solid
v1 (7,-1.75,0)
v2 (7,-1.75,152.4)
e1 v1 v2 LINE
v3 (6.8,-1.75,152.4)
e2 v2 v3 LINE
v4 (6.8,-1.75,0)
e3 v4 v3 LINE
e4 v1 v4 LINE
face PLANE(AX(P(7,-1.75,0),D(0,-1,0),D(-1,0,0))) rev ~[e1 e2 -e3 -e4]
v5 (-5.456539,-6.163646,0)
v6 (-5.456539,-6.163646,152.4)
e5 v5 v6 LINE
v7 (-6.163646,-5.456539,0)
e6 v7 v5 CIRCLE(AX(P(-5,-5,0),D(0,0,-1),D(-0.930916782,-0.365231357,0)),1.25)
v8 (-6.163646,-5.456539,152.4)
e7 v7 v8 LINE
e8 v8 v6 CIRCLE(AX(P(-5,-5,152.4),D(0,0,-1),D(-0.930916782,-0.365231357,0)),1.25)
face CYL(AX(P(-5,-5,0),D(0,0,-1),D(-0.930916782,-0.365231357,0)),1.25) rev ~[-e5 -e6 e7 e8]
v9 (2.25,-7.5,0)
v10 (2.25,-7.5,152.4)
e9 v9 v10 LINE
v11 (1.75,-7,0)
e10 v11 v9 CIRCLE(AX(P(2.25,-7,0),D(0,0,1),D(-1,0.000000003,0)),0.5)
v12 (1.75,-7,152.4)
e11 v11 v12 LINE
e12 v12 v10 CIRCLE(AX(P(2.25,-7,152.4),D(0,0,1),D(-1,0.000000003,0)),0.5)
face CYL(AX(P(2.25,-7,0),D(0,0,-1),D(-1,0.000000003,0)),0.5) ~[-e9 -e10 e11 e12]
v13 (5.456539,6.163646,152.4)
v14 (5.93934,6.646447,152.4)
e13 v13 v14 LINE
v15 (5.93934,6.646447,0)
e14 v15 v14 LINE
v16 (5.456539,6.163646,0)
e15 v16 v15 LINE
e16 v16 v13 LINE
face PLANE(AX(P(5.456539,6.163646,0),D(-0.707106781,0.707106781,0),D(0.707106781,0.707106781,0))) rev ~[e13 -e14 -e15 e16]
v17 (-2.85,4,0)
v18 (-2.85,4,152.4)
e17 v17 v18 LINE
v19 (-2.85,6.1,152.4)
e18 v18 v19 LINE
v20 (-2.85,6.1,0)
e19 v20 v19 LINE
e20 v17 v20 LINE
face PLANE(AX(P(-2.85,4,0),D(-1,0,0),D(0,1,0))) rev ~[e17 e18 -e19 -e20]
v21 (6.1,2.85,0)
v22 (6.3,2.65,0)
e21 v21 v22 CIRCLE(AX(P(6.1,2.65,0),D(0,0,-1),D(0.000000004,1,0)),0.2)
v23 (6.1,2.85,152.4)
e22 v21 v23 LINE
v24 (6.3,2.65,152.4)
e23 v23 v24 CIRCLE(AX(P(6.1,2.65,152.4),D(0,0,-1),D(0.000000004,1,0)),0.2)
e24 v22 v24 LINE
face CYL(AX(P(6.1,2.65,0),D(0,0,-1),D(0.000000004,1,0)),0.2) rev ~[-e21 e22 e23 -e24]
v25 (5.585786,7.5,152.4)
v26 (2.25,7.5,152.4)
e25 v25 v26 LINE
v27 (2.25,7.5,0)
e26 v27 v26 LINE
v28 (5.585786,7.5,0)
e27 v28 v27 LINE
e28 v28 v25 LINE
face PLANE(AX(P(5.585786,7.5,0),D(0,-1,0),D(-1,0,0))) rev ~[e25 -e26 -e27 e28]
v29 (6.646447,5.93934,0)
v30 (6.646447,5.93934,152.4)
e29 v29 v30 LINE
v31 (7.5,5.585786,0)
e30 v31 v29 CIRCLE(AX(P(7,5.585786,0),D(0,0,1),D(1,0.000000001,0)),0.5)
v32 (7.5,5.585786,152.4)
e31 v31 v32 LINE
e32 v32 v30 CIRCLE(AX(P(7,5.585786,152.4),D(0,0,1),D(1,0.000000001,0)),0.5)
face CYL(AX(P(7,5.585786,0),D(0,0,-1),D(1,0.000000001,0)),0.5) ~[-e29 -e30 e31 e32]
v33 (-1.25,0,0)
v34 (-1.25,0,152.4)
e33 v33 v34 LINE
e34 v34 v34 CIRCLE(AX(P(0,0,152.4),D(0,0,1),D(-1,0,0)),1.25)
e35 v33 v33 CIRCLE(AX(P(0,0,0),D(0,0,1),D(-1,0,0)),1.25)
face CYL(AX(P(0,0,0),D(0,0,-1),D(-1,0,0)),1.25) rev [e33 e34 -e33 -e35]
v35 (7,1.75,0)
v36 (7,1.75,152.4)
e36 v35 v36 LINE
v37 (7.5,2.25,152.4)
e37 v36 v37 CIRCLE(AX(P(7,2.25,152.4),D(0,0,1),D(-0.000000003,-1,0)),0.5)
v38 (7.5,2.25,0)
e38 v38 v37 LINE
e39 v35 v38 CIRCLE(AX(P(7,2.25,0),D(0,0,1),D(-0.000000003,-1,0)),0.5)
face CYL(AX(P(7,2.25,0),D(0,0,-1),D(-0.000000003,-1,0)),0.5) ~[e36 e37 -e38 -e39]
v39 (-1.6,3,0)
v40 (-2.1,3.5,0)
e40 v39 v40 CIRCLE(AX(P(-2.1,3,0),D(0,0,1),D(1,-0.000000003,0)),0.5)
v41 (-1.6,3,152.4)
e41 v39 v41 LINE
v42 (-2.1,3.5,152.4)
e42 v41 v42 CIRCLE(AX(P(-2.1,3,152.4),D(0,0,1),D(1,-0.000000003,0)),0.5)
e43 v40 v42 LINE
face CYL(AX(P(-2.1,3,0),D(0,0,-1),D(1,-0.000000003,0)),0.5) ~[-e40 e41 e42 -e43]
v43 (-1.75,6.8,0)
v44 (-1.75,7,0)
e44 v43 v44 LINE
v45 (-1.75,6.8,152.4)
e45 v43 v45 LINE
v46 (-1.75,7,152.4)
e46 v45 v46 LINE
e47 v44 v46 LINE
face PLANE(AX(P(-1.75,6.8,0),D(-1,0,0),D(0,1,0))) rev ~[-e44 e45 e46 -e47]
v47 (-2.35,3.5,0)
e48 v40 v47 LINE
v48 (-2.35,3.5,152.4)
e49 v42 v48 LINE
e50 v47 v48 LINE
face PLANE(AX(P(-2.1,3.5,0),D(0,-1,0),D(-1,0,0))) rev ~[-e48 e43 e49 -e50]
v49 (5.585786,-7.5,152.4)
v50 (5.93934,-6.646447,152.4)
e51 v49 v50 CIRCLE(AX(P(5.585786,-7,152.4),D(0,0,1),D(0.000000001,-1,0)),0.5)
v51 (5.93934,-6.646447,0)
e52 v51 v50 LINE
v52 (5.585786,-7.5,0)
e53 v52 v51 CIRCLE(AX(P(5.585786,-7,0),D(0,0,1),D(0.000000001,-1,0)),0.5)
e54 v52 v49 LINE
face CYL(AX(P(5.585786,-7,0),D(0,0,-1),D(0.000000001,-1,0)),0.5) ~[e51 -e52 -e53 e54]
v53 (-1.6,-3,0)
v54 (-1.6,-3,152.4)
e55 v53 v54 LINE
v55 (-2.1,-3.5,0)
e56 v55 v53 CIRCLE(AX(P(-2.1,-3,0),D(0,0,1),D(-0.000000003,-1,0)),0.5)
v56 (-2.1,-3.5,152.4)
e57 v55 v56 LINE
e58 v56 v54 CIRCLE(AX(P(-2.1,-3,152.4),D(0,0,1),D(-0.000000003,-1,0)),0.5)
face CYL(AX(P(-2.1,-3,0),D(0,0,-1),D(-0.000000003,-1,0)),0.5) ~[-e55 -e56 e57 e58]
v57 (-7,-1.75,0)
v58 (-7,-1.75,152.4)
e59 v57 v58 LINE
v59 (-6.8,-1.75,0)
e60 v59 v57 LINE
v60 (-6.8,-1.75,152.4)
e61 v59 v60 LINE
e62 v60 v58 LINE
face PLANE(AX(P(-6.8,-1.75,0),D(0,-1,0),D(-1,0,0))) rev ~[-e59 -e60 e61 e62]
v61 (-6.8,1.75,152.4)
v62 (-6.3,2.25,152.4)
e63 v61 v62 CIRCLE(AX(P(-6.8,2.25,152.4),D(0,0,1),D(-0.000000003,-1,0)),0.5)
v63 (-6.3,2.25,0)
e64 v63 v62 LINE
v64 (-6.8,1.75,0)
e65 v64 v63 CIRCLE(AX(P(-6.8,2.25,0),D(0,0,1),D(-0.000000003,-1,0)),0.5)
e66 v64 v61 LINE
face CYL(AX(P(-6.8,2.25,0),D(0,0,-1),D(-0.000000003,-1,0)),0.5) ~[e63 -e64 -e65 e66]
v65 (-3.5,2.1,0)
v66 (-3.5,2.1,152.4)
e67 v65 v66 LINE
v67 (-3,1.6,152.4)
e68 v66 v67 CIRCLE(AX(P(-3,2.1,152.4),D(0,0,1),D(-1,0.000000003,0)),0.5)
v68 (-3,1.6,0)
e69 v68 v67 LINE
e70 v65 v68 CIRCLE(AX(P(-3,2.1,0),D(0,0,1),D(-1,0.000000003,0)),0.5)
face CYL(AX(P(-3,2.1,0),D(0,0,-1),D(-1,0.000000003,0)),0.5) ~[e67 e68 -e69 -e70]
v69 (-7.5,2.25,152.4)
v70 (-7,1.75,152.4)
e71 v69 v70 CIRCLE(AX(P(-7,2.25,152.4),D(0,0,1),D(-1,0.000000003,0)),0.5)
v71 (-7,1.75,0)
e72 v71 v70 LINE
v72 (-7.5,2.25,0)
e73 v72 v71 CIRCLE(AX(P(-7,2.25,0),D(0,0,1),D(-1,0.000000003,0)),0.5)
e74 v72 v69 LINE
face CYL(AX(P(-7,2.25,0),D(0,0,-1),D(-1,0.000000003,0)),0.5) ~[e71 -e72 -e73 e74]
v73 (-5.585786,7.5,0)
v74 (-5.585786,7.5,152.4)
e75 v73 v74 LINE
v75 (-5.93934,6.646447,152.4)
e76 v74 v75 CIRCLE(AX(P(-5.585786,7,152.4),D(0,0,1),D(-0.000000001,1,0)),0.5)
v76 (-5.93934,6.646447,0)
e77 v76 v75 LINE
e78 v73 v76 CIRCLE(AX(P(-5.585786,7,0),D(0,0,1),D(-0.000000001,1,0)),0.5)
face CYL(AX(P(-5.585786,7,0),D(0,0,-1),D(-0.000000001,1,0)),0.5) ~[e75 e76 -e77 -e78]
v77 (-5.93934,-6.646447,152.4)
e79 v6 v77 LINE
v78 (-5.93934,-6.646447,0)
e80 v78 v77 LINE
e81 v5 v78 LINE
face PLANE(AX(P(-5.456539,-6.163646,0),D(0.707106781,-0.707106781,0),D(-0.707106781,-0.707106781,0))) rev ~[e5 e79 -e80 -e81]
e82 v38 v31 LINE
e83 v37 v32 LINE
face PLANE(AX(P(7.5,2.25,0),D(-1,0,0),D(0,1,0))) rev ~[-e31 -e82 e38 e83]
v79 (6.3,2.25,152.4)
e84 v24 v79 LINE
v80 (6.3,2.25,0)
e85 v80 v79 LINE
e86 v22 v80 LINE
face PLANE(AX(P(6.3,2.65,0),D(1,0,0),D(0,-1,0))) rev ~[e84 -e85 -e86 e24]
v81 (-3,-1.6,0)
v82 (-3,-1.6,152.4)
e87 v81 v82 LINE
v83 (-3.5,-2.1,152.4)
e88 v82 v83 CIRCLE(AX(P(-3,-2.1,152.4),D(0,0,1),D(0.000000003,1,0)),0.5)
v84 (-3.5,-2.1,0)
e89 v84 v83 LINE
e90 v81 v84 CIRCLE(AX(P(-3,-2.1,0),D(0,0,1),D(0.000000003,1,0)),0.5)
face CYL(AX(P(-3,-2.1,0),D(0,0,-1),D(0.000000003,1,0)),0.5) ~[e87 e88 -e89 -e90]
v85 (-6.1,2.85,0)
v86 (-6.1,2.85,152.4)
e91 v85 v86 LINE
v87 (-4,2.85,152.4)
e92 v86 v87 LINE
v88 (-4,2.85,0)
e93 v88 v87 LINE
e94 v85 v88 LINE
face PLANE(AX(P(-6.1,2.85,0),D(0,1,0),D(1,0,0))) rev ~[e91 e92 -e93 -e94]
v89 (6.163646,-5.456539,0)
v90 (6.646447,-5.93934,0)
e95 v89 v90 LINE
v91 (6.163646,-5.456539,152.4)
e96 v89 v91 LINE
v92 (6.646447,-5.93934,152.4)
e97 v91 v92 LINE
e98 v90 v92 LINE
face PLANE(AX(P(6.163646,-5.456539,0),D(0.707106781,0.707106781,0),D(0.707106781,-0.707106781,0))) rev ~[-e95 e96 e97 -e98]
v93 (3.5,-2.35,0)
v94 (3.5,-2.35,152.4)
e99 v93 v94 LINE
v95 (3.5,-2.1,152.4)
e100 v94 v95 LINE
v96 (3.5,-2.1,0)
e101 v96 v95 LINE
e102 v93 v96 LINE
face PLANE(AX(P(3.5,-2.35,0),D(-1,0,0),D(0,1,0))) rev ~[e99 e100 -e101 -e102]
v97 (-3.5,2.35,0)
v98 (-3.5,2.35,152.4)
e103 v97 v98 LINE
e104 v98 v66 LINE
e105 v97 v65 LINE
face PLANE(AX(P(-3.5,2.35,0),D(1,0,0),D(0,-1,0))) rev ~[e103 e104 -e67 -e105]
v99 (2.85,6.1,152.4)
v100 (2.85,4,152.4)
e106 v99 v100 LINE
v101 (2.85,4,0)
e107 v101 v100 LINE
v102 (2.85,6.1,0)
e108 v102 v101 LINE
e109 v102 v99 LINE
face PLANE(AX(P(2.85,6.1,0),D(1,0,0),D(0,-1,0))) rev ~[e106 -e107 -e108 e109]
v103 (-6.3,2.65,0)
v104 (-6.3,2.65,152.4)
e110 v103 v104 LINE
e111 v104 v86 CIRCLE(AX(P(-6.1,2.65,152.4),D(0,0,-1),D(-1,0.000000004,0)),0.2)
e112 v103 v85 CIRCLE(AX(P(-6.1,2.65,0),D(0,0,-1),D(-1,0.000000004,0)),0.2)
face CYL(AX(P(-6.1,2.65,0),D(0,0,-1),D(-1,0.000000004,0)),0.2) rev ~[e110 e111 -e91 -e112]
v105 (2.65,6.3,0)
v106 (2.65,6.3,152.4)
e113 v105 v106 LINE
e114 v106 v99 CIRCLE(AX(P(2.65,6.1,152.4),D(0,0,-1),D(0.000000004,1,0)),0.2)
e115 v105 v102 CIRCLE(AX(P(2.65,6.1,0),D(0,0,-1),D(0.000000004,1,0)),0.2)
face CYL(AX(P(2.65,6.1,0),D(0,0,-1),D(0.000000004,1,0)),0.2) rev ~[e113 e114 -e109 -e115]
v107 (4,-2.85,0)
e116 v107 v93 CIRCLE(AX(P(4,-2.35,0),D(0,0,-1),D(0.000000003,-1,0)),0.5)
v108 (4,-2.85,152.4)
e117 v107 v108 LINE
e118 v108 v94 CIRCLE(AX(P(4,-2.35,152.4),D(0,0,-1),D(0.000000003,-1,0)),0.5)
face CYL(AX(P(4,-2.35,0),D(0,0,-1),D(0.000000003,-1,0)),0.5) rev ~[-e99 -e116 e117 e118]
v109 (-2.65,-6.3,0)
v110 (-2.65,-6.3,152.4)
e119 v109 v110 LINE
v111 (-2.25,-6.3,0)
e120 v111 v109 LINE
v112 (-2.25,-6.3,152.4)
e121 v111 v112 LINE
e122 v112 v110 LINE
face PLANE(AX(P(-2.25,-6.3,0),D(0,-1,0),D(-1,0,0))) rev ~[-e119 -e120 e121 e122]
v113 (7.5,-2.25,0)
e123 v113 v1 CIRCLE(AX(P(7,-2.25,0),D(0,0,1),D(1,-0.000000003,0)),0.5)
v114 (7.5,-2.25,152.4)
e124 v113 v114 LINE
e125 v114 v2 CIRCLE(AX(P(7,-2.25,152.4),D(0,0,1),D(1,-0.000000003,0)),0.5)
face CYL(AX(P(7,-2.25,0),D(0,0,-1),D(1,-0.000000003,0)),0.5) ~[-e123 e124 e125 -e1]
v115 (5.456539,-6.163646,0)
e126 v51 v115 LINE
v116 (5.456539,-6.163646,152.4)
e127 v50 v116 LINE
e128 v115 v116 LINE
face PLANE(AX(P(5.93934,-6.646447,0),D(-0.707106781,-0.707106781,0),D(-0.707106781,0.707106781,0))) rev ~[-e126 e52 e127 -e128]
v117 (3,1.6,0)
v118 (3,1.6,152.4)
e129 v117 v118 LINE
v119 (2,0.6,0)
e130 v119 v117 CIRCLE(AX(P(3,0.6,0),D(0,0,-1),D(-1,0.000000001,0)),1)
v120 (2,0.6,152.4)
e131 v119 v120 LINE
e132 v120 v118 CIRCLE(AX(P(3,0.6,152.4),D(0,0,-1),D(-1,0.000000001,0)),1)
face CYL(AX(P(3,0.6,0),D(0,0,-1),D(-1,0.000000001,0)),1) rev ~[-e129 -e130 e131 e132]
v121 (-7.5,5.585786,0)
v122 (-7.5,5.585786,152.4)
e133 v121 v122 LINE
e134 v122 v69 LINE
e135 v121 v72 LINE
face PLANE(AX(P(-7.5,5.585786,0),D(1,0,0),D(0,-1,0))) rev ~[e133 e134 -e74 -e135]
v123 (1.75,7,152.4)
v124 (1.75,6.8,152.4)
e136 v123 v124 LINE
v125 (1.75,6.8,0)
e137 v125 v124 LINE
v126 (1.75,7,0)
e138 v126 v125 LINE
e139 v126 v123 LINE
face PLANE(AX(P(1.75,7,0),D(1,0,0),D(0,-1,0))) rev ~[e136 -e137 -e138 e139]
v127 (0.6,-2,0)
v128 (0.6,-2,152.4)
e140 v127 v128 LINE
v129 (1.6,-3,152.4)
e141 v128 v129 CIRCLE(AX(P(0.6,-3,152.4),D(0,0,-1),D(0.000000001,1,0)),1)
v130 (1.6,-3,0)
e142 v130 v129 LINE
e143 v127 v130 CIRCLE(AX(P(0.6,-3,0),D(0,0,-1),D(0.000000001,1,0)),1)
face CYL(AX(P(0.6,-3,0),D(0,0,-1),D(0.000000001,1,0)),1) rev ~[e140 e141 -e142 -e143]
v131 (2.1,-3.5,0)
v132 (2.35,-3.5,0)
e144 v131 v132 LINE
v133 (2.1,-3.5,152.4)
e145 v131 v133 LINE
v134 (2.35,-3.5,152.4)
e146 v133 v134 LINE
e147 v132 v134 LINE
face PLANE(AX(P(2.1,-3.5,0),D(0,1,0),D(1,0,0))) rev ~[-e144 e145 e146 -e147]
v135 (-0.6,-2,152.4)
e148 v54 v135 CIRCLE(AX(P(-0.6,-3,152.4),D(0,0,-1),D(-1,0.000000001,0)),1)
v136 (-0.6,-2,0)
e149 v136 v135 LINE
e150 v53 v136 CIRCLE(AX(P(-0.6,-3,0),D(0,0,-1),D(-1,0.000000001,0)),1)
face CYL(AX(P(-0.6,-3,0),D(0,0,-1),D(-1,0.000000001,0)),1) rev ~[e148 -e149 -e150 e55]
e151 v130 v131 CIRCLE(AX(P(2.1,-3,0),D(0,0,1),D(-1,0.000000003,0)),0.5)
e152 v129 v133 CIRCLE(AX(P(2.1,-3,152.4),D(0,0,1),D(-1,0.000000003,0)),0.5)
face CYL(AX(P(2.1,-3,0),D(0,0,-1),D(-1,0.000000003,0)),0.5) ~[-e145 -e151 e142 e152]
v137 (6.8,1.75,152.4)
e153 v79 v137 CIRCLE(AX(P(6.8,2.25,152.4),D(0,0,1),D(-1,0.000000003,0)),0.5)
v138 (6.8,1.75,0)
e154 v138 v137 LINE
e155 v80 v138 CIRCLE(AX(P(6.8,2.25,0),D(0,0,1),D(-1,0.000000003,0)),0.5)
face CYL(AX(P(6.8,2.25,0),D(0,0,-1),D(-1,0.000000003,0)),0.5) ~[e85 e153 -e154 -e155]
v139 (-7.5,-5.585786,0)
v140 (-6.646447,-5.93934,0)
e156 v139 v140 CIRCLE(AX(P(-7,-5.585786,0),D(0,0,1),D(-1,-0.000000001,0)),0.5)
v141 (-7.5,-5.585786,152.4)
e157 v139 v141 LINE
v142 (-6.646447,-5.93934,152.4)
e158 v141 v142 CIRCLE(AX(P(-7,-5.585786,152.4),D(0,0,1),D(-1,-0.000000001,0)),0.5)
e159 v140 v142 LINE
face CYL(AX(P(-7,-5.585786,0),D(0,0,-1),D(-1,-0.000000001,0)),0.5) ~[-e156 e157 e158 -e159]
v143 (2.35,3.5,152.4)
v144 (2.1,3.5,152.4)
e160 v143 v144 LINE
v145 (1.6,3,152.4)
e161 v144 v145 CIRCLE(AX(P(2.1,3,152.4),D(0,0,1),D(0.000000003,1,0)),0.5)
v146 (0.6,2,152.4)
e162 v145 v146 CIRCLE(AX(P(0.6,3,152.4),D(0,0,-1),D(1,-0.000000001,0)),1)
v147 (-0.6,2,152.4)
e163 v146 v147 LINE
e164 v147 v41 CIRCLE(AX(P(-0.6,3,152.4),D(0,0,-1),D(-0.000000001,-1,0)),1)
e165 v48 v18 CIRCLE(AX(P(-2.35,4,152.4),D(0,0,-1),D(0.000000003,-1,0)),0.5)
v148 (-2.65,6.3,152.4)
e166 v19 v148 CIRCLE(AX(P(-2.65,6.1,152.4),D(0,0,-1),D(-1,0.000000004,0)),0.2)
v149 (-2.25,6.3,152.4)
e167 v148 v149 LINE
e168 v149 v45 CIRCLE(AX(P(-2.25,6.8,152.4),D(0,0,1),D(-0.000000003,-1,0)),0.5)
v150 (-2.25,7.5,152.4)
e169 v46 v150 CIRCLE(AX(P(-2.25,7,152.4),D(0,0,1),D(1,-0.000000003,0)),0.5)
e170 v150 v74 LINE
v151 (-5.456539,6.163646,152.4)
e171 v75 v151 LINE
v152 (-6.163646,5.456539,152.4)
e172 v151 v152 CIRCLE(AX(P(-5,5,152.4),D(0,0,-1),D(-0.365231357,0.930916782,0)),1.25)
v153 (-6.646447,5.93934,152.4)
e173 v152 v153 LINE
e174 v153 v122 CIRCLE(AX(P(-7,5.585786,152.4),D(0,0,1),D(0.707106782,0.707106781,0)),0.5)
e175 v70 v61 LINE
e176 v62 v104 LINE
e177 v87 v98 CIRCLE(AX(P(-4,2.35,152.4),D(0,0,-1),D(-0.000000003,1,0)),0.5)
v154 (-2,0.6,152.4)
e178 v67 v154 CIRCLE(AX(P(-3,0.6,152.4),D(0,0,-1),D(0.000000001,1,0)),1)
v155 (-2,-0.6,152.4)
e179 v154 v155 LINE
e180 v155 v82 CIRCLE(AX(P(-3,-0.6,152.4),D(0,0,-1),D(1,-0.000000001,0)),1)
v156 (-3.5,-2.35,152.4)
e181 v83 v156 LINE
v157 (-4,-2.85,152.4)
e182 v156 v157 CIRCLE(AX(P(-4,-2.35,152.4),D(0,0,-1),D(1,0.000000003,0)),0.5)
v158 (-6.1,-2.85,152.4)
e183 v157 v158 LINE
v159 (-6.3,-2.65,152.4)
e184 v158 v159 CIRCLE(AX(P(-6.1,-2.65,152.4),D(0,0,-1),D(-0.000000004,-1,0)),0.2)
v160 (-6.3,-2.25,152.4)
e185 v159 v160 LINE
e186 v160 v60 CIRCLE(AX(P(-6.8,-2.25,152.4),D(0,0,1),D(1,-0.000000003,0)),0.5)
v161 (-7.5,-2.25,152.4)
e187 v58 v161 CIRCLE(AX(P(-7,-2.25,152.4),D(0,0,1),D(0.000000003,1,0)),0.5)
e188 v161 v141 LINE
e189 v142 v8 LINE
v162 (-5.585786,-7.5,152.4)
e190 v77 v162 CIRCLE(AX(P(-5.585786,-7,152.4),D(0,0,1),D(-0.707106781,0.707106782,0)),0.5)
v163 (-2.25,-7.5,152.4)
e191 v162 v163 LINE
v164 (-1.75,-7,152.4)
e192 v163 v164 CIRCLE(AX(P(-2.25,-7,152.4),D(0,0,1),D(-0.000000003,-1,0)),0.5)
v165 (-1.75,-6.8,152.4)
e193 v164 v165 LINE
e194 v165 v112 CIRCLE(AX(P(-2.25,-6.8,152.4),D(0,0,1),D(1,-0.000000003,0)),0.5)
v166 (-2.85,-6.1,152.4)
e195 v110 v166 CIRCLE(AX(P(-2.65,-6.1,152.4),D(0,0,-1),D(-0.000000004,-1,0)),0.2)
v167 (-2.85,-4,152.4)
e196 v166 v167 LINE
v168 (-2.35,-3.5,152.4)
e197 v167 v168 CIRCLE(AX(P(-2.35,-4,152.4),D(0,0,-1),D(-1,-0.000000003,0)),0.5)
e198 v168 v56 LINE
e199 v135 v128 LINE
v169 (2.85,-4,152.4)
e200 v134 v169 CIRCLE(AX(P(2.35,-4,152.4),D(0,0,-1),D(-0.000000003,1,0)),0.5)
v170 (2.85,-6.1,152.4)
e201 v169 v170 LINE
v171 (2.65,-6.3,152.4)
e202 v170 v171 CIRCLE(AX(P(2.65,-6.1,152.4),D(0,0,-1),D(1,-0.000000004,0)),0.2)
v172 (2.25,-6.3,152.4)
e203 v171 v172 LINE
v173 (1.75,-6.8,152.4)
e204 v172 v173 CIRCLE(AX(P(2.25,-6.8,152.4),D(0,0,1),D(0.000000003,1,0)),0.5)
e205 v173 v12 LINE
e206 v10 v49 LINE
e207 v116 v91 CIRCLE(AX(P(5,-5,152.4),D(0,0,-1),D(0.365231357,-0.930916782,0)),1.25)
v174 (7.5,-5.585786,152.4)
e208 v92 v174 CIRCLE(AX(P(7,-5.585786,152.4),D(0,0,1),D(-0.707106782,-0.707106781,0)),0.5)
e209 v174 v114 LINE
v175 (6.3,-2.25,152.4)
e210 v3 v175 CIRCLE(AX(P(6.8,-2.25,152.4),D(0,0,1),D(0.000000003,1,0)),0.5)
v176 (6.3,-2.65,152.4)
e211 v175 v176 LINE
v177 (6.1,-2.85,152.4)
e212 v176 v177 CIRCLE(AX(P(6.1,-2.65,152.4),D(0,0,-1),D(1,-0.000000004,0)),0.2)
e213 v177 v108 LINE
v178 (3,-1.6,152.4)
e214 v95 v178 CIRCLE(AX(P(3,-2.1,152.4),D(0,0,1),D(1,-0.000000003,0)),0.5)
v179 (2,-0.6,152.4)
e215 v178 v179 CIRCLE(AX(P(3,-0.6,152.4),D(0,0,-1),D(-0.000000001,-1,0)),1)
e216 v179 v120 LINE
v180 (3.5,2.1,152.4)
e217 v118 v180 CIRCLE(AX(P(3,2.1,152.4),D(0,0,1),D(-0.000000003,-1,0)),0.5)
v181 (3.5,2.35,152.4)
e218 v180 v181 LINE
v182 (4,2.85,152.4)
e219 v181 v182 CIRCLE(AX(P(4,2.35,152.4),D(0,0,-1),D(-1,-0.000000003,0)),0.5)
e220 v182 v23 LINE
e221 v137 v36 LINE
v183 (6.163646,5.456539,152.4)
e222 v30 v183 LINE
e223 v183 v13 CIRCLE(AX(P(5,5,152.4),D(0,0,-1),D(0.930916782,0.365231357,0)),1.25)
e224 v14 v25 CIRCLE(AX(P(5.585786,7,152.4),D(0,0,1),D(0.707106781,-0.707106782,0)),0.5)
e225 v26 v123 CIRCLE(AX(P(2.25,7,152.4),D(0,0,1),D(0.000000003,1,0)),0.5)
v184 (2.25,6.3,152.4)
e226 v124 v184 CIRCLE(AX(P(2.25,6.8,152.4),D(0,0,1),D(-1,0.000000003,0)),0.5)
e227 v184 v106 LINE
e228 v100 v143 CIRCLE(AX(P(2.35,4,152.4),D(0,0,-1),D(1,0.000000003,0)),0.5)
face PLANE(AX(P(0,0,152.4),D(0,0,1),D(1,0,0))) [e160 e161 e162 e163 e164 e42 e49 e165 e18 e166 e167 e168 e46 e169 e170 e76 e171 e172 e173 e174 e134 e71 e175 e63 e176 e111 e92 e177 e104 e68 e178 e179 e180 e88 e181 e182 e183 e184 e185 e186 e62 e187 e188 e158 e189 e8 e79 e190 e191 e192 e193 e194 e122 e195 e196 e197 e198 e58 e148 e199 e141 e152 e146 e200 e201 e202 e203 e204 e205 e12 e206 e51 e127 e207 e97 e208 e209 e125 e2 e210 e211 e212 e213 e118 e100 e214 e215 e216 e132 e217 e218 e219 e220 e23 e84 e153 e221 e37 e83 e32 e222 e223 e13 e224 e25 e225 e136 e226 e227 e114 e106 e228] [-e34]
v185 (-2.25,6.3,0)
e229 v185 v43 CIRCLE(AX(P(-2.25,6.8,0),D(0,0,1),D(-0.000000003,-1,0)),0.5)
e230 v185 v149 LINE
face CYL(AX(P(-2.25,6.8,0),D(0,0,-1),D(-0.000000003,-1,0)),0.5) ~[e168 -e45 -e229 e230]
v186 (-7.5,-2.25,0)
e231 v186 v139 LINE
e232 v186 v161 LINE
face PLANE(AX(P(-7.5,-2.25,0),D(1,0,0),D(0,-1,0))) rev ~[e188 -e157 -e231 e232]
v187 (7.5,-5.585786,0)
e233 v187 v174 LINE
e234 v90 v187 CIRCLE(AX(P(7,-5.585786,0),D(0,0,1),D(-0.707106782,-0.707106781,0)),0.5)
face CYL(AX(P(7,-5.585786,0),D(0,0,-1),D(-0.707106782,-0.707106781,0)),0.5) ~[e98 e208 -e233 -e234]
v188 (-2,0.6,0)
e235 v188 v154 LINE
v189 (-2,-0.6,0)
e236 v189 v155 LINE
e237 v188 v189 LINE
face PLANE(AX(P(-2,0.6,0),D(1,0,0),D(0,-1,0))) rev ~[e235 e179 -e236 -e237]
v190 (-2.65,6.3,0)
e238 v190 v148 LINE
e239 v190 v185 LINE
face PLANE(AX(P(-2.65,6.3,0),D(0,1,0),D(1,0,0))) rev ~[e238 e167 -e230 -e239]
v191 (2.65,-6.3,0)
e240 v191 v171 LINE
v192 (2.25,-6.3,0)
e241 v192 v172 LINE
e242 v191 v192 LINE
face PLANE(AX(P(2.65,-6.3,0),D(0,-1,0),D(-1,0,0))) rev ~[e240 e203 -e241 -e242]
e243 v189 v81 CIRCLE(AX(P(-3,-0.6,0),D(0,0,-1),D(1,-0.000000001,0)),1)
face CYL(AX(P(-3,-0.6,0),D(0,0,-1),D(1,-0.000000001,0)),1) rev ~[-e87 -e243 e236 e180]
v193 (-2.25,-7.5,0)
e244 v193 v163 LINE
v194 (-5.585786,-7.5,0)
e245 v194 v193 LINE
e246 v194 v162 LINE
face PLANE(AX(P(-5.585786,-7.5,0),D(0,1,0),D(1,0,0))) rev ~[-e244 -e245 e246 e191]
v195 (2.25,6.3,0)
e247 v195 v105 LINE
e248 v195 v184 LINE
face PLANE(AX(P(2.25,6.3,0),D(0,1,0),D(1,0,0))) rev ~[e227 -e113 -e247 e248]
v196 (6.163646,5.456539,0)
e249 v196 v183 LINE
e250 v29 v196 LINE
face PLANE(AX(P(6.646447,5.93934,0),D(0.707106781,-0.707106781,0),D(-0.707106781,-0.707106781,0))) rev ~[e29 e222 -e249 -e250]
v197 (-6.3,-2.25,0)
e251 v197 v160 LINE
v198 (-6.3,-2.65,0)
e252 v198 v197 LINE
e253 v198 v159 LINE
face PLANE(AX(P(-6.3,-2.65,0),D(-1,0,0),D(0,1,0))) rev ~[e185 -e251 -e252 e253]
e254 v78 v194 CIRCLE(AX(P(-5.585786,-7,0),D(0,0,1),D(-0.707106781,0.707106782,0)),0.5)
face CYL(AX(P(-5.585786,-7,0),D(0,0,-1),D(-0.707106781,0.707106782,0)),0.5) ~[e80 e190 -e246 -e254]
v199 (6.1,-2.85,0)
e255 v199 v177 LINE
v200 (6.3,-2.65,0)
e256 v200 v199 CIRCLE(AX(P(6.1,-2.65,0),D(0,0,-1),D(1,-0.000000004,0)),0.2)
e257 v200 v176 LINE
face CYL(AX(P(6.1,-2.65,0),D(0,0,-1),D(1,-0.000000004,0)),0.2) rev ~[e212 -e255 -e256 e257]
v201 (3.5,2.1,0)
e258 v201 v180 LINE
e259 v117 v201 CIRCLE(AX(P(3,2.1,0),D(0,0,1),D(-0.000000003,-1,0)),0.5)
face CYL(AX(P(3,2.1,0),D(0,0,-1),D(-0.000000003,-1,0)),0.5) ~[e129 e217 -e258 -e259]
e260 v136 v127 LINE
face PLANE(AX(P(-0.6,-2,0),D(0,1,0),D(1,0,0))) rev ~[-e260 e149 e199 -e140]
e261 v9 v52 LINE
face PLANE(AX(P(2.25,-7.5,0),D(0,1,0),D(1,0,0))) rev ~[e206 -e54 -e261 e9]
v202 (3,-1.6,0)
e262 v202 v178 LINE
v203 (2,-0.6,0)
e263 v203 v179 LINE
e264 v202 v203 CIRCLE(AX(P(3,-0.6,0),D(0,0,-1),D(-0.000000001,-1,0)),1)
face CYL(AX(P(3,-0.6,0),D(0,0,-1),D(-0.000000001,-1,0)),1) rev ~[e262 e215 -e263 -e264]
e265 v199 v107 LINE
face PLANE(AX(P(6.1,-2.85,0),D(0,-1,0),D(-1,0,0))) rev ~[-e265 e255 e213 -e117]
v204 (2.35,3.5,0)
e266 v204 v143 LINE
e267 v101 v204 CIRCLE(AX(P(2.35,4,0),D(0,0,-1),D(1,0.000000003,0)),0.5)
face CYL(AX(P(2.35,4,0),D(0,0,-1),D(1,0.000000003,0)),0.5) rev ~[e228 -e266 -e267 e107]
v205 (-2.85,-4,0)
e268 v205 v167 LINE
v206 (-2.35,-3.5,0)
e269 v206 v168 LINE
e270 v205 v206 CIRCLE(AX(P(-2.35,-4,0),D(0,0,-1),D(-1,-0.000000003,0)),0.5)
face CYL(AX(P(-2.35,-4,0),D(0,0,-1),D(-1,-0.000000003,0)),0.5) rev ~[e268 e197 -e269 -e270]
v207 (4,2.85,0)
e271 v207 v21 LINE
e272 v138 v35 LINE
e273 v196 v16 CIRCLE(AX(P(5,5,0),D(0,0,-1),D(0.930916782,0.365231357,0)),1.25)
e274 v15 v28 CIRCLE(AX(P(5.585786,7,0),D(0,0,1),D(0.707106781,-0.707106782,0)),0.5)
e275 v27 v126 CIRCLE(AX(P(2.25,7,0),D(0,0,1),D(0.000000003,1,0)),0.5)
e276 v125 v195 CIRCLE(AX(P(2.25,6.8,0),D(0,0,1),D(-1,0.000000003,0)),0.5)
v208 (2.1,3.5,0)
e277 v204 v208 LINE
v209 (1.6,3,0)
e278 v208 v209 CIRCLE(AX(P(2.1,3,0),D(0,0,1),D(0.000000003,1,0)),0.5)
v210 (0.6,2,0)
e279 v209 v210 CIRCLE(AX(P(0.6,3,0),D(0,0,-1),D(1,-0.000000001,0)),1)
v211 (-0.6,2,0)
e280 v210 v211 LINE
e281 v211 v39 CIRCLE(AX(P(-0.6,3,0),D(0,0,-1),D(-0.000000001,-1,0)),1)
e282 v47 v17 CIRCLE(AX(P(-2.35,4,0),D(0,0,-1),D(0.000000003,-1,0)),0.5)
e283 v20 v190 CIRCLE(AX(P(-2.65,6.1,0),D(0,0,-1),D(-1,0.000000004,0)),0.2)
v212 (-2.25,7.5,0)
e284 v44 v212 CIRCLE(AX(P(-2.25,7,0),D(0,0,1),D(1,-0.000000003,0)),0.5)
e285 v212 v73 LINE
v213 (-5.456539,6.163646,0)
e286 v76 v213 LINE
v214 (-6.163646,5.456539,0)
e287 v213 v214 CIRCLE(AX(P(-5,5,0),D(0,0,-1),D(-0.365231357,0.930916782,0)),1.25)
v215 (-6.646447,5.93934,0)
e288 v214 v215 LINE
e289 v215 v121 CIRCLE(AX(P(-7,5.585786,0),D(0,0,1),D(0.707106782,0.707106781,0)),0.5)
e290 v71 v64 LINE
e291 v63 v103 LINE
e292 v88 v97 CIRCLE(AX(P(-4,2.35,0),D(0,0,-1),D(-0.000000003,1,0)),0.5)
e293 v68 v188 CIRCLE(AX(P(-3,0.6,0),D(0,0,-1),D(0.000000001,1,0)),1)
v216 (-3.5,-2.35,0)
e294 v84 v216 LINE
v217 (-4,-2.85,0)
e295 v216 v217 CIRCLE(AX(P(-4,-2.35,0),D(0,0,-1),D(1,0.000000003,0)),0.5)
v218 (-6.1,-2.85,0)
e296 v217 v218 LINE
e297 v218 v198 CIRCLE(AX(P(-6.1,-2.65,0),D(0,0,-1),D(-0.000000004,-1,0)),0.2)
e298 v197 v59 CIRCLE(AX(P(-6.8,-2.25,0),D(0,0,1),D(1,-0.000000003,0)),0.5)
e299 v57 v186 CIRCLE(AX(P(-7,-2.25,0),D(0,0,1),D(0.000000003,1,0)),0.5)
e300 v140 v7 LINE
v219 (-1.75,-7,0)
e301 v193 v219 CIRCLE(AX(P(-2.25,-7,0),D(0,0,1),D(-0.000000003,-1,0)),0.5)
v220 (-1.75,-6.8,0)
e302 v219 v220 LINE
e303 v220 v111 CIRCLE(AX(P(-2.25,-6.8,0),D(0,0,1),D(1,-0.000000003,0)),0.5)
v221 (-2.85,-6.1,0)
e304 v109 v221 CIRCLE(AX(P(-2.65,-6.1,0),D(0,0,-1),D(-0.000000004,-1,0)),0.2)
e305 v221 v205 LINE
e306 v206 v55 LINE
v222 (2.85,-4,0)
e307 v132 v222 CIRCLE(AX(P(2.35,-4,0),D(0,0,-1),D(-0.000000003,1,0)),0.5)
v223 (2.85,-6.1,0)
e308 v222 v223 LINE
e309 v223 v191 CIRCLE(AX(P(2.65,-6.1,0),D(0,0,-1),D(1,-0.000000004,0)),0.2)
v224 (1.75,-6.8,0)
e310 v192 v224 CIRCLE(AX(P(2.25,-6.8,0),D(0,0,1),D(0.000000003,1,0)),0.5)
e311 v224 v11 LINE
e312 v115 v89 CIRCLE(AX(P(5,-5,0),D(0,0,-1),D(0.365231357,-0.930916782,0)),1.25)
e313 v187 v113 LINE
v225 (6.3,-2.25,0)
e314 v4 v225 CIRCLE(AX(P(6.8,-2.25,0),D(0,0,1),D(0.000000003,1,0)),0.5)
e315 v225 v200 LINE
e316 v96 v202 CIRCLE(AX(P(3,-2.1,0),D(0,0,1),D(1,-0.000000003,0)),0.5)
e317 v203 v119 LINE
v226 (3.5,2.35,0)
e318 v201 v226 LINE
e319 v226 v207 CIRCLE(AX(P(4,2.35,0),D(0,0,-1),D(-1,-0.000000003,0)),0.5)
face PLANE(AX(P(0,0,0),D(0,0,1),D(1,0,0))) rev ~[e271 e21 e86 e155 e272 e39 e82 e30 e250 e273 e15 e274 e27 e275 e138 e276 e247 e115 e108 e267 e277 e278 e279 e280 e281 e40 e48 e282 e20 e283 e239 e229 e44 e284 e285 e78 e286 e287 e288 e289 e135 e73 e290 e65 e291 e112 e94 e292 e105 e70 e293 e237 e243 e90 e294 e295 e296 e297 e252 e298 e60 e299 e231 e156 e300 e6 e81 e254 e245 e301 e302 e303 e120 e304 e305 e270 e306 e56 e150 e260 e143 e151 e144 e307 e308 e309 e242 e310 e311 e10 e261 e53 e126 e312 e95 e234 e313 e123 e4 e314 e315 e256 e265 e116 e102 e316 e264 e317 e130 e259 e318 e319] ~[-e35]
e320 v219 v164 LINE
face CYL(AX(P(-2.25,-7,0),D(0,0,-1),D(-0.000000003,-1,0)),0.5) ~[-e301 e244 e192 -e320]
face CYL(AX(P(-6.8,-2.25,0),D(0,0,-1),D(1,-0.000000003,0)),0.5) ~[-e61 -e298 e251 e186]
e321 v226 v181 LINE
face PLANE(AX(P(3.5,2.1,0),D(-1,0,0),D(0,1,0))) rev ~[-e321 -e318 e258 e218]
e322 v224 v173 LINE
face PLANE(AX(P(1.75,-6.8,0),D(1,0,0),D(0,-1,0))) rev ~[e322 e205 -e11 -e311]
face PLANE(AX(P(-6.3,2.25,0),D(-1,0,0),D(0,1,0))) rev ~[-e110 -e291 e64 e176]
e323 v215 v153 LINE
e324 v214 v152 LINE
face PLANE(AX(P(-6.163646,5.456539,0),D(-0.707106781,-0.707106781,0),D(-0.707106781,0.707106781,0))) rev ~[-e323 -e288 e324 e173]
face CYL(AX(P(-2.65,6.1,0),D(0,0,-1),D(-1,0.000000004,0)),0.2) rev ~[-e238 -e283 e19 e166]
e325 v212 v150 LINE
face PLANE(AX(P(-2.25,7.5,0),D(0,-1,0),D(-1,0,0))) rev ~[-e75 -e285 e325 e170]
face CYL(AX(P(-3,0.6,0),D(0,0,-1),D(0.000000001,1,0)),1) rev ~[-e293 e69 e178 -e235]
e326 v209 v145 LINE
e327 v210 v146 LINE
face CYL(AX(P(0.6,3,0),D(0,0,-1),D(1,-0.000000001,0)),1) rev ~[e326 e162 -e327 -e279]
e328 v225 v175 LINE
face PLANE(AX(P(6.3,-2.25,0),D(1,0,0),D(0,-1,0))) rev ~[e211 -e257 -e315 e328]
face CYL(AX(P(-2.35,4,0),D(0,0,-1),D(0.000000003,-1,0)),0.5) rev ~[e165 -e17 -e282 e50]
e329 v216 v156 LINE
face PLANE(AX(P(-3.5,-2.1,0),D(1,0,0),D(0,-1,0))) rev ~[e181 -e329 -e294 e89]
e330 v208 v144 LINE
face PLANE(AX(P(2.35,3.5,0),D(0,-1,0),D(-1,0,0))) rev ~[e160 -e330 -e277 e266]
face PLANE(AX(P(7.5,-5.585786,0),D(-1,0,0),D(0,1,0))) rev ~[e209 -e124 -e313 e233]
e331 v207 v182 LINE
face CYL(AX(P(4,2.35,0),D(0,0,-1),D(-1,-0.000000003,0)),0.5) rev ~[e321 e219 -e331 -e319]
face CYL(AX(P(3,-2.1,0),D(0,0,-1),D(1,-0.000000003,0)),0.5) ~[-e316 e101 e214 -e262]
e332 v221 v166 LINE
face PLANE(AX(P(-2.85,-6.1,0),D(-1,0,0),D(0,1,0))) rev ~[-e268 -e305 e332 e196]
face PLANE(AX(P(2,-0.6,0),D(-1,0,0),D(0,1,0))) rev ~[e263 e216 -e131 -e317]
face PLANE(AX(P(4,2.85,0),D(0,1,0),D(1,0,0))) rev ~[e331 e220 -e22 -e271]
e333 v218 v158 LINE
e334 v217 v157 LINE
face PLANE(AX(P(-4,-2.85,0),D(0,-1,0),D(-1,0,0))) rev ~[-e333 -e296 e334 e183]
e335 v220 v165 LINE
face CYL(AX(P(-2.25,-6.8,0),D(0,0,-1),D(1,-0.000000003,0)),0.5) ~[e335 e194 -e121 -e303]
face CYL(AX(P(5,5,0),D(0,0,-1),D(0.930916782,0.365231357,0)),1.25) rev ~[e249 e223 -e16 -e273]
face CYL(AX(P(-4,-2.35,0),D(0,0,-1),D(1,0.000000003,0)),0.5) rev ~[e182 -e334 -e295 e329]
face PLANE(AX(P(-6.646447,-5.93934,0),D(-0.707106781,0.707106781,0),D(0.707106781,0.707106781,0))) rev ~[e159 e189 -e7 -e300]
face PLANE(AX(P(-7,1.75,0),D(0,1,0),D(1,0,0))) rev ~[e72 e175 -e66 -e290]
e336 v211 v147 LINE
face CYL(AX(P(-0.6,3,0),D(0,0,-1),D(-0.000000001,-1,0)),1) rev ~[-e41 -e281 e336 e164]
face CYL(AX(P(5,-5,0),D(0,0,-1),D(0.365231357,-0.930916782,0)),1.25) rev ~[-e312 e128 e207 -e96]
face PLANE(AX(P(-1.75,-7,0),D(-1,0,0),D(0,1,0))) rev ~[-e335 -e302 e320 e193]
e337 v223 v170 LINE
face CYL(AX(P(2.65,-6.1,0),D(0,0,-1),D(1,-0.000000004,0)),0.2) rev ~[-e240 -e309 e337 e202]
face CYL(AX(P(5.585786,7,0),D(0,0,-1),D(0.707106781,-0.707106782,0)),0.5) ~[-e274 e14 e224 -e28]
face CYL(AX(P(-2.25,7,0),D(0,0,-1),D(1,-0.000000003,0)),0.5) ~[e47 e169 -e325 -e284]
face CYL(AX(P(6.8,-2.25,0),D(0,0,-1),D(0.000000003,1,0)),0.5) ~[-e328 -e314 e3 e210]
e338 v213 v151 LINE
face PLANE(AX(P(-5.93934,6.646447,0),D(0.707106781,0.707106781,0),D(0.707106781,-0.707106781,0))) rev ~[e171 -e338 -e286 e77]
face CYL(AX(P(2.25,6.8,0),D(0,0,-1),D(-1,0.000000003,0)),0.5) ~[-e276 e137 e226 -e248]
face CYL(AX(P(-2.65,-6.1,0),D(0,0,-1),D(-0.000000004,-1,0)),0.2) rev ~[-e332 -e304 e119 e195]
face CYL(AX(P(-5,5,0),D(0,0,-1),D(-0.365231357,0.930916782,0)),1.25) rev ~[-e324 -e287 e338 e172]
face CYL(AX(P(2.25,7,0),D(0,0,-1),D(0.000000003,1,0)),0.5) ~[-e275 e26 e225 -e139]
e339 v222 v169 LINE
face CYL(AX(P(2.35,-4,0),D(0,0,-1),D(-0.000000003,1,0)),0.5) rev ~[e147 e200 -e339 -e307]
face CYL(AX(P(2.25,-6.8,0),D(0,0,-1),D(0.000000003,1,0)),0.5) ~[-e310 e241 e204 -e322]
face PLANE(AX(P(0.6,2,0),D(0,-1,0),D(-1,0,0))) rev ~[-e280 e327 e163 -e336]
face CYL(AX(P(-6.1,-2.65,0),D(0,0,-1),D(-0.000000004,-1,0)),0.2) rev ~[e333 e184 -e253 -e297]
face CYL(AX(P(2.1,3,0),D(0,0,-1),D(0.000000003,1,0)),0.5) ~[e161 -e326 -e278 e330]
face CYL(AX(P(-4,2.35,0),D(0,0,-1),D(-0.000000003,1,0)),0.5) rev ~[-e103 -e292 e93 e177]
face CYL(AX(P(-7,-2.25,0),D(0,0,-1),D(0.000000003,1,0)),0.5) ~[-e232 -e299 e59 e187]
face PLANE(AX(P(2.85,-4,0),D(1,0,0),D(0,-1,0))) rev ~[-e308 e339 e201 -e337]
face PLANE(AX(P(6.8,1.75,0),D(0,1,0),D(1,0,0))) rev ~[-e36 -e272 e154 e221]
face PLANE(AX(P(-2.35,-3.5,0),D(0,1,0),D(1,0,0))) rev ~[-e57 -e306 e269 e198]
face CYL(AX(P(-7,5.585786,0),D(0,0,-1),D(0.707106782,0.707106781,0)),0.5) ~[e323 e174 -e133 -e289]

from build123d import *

# Parameters (mm, degrees)
SKETCH1_R           = 1.25
BOSS_EXTRUDE1_DEPTH = 152.4


with BuildPart() as part:
    # Sketch1 → Boss-Extrude1 (new body)
    with BuildSketch(Plane.XY):
        with BuildLine():
            Line((6.646446609, 5.939339828), (6.163645978, 5.456539197))
            ThreePointArc((6.163645978, 5.456539197), (4.116116524, 4.116116524), (5.456539197, 6.163645978))
            Line((5.456539197, 6.163645978), (5.939339828, 6.646446609))
            ThreePointArc((5.939339828, 6.646446609), (6.047726204, 7.191341716), (5.585786438, 7.5))
            Line((5.585786438, 7.5), (2.25, 7.5))
            ThreePointArc((2.25, 7.5), (1.896446609, 7.353553391), (1.75, 7))
            Line((1.75, 7), (1.75, 6.8))
            ThreePointArc((1.75, 6.8), (1.896446609, 6.446446609), (2.25, 6.3))
            Line((2.25, 6.3), (2.65, 6.3))
            ThreePointArc((2.65, 6.3), (2.791421356, 6.241421356), (2.85, 6.1))
            Line((2.85, 6.1), (2.85, 4))
            ThreePointArc((2.85, 4), (2.703553391, 3.646446609), (2.35, 3.5))
            Line((2.35, 3.5), (2.1, 3.5))
            ThreePointArc((2.1, 3.5), (1.746446609, 3.353553391), (1.6, 3))
            ThreePointArc((1.6, 3), (1.307106781, 2.292893219), (0.6, 2))
            Line((0.6, 2), (-0.6, 2))
            ThreePointArc((-0.6, 2), (-1.307106781, 2.292893219), (-1.6, 3))
            ThreePointArc((-1.6, 3), (-1.746446609, 3.353553391), (-2.1, 3.5))
            Line((-2.1, 3.5), (-2.35, 3.5))
            ThreePointArc((-2.35, 3.5), (-2.703553391, 3.646446609), (-2.85, 4))
            Line((-2.85, 4), (-2.85, 6.1))
            ThreePointArc((-2.85, 6.1), (-2.791421356, 6.241421356), (-2.65, 6.3))
            Line((-2.65, 6.3), (-2.25, 6.3))
            ThreePointArc((-2.25, 6.3), (-1.896446609, 6.446446609), (-1.75, 6.8))
            Line((-1.75, 6.8), (-1.75, 7))
            ThreePointArc((-1.75, 7), (-1.896446609, 7.353553391), (-2.25, 7.5))
            Line((-2.25, 7.5), (-5.585786438, 7.5))
            ThreePointArc((-5.585786438, 7.5), (-6.047726204, 7.191341716), (-5.939339828, 6.646446609))
            Line((-5.939339828, 6.646446609), (-5.456539197, 6.163645978))
            ThreePointArc((-5.456539197, 6.163645978), (-4.116116524, 4.116116524), (-6.163645978, 5.456539197))
            Line((-6.163645978, 5.456539197), (-6.646446609, 5.939339828))
            ThreePointArc((-6.646446609, 5.939339828), (-7.191341716, 6.047726204), (-7.5, 5.585786438))
            Line((-7.5, 5.585786438), (-7.5, 2.25))
            ThreePointArc((-7.5, 2.25), (-7.353553391, 1.896446609), (-7, 1.75))
            Line((-7, 1.75), (-6.8, 1.75))
            ThreePointArc((-6.8, 1.75), (-6.446446609, 1.896446609), (-6.3, 2.25))
            Line((-6.3, 2.25), (-6.3, 2.65))
            ThreePointArc((-6.3, 2.65), (-6.241421356, 2.791421356), (-6.1, 2.85))
            Line((-6.1, 2.85), (-4, 2.85))
            ThreePointArc((-4, 2.85), (-3.646446609, 2.703553391), (-3.5, 2.35))
            Line((-3.5, 2.35), (-3.5, 2.1))
            ThreePointArc((-3.5, 2.1), (-3.353553391, 1.746446609), (-3, 1.6))
            ThreePointArc((-3, 1.6), (-2.292893219, 1.307106781), (-2, 0.6))
            Line((-2, 0.6), (-2, -0.6))
            ThreePointArc((-2, -0.6), (-2.292893219, -1.307106781), (-3, -1.6))
            ThreePointArc((-3, -1.6), (-3.353553391, -1.746446609), (-3.5, -2.1))
            Line((-3.5, -2.1), (-3.5, -2.35))
            ThreePointArc((-3.5, -2.35), (-3.646446609, -2.703553391), (-4, -2.85))
            Line((-4, -2.85), (-6.1, -2.85))
            ThreePointArc((-6.1, -2.85), (-6.241421356, -2.791421356), (-6.3, -2.65))
            Line((-6.3, -2.65), (-6.3, -2.25))
            ThreePointArc((-6.3, -2.25), (-6.446446609, -1.896446609), (-6.8, -1.75))
            Line((-6.8, -1.75), (-7, -1.75))
            ThreePointArc((-7, -1.75), (-7.353553391, -1.896446609), (-7.5, -2.25))
            Line((-7.5, -2.25), (-7.5, -5.585786438))
            ThreePointArc((-7.5, -5.585786438), (-7.191341716, -6.047726204), (-6.646446609, -5.939339828))
            Line((-6.646446609, -5.939339828), (-6.163645978, -5.456539197))
            ThreePointArc((-6.163645978, -5.456539197), (-4.116116524, -4.116116524), (-5.456539197, -6.163645978))
            Line((-5.456539197, -6.163645978), (-5.939339828, -6.646446609))
            ThreePointArc((-5.939339828, -6.646446609), (-6.047726204, -7.191341716), (-5.585786438, -7.5))
            Line((-5.585786438, -7.5), (-2.25, -7.5))
            ThreePointArc((-2.25, -7.5), (-1.896446609, -7.353553391), (-1.75, -7))
            Line((-1.75, -7), (-1.75, -6.8))
            ThreePointArc((-1.75, -6.8), (-1.896446609, -6.446446609), (-2.25, -6.3))
            Line((-2.25, -6.3), (-2.65, -6.3))
            ThreePointArc((-2.65, -6.3), (-2.791421356, -6.241421356), (-2.85, -6.1))
            Line((-2.85, -6.1), (-2.85, -4))
            ThreePointArc((-2.85, -4), (-2.703553391, -3.646446609), (-2.35, -3.5))
            Line((-2.35, -3.5), (-2.1, -3.5))
            ThreePointArc((-2.1, -3.5), (-1.746446609, -3.353553391), (-1.6, -3))
            ThreePointArc((-1.6, -3), (-1.307106781, -2.292893219), (-0.6, -2))
            Line((-0.6, -2), (0.6, -2))
            ThreePointArc((0.6, -2), (1.307106781, -2.292893219), (1.6, -3))
            ThreePointArc((1.6, -3), (1.746446609, -3.353553391), (2.1, -3.5))
            Line((2.1, -3.5), (2.35, -3.5))
            ThreePointArc((2.35, -3.5), (2.703553391, -3.646446609), (2.85, -4))
            Line((2.85, -4), (2.85, -6.1))
            ThreePointArc((2.85, -6.1), (2.791421356, -6.241421356), (2.65, -6.3))
            Line((2.65, -6.3), (2.25, -6.3))
            ThreePointArc((2.25, -6.3), (1.896446609, -6.446446609), (1.75, -6.8))
            Line((1.75, -6.8), (1.75, -7))
            ThreePointArc((1.75, -7), (1.896446609, -7.353553391), (2.25, -7.5))
            Line((2.25, -7.5), (5.585786438, -7.5))
            ThreePointArc((5.585786438, -7.5), (6.047726204, -7.191341716), (5.939339828, -6.646446609))
            Line((5.939339828, -6.646446609), (5.456539197, -6.163645978))
            ThreePointArc((5.456539197, -6.163645978), (4.116116524, -4.116116524), (6.163645978, -5.456539197))
            Line((6.163645978, -5.456539197), (6.646446609, -5.939339828))
            ThreePointArc((6.646446609, -5.939339828), (7.191341716, -6.047726204), (7.5, -5.585786438))
            Line((7.5, -5.585786438), (7.5, -2.25))
            ThreePointArc((7.5, -2.25), (7.353553391, -1.896446609), (7, -1.75))
            Line((7, -1.75), (6.8, -1.75))
            ThreePointArc((6.8, -1.75), (6.446446609, -1.896446609), (6.3, -2.25))
            Line((6.3, -2.25), (6.3, -2.65))
            ThreePointArc((6.3, -2.65), (6.241421356, -2.791421356), (6.1, -2.85))
            Line((6.1, -2.85), (4, -2.85))
            ThreePointArc((4, -2.85), (3.646446609, -2.703553391), (3.5, -2.35))
            Line((3.5, -2.35), (3.5, -2.1))
            ThreePointArc((3.5, -2.1), (3.353553391, -1.746446609), (3, -1.6))
            ThreePointArc((3, -1.6), (2.292893219, -1.307106781), (2, -0.6))
            Line((2, -0.6), (2, 0.6))
            ThreePointArc((2, 0.6), (2.292893219, 1.307106781), (3, 1.6))
            ThreePointArc((3, 1.6), (3.353553391, 1.746446609), (3.5, 2.1))
            Line((3.5, 2.1), (3.5, 2.35))
            ThreePointArc((3.5, 2.35), (3.646446609, 2.703553391), (4, 2.85))
            Line((4, 2.85), (6.1, 2.85))
            ThreePointArc((6.1, 2.85), (6.241421356, 2.791421356), (6.3, 2.65))
            Line((6.3, 2.65), (6.3, 2.25))
            ThreePointArc((6.3, 2.25), (6.446446609, 1.896446609), (6.8, 1.75))
            Line((6.8, 1.75), (7, 1.75))
            ThreePointArc((7, 1.75), (7.353553391, 1.896446609), (7.5, 2.25))
            Line((7.5, 2.25), (7.5, 5.585786438))
            ThreePointArc((7.5, 5.585786438), (7.191341716, 6.047726204), (6.646446609, 5.939339828))
        make_face()
        with Locations(Location((0, 0, 0), (0, 0, 180))):
            Circle(SKETCH1_R, mode=Mode.SUBTRACT)
    extrude(amount=BOSS_EXTRUDE1_DEPTH)


solid = part.part
